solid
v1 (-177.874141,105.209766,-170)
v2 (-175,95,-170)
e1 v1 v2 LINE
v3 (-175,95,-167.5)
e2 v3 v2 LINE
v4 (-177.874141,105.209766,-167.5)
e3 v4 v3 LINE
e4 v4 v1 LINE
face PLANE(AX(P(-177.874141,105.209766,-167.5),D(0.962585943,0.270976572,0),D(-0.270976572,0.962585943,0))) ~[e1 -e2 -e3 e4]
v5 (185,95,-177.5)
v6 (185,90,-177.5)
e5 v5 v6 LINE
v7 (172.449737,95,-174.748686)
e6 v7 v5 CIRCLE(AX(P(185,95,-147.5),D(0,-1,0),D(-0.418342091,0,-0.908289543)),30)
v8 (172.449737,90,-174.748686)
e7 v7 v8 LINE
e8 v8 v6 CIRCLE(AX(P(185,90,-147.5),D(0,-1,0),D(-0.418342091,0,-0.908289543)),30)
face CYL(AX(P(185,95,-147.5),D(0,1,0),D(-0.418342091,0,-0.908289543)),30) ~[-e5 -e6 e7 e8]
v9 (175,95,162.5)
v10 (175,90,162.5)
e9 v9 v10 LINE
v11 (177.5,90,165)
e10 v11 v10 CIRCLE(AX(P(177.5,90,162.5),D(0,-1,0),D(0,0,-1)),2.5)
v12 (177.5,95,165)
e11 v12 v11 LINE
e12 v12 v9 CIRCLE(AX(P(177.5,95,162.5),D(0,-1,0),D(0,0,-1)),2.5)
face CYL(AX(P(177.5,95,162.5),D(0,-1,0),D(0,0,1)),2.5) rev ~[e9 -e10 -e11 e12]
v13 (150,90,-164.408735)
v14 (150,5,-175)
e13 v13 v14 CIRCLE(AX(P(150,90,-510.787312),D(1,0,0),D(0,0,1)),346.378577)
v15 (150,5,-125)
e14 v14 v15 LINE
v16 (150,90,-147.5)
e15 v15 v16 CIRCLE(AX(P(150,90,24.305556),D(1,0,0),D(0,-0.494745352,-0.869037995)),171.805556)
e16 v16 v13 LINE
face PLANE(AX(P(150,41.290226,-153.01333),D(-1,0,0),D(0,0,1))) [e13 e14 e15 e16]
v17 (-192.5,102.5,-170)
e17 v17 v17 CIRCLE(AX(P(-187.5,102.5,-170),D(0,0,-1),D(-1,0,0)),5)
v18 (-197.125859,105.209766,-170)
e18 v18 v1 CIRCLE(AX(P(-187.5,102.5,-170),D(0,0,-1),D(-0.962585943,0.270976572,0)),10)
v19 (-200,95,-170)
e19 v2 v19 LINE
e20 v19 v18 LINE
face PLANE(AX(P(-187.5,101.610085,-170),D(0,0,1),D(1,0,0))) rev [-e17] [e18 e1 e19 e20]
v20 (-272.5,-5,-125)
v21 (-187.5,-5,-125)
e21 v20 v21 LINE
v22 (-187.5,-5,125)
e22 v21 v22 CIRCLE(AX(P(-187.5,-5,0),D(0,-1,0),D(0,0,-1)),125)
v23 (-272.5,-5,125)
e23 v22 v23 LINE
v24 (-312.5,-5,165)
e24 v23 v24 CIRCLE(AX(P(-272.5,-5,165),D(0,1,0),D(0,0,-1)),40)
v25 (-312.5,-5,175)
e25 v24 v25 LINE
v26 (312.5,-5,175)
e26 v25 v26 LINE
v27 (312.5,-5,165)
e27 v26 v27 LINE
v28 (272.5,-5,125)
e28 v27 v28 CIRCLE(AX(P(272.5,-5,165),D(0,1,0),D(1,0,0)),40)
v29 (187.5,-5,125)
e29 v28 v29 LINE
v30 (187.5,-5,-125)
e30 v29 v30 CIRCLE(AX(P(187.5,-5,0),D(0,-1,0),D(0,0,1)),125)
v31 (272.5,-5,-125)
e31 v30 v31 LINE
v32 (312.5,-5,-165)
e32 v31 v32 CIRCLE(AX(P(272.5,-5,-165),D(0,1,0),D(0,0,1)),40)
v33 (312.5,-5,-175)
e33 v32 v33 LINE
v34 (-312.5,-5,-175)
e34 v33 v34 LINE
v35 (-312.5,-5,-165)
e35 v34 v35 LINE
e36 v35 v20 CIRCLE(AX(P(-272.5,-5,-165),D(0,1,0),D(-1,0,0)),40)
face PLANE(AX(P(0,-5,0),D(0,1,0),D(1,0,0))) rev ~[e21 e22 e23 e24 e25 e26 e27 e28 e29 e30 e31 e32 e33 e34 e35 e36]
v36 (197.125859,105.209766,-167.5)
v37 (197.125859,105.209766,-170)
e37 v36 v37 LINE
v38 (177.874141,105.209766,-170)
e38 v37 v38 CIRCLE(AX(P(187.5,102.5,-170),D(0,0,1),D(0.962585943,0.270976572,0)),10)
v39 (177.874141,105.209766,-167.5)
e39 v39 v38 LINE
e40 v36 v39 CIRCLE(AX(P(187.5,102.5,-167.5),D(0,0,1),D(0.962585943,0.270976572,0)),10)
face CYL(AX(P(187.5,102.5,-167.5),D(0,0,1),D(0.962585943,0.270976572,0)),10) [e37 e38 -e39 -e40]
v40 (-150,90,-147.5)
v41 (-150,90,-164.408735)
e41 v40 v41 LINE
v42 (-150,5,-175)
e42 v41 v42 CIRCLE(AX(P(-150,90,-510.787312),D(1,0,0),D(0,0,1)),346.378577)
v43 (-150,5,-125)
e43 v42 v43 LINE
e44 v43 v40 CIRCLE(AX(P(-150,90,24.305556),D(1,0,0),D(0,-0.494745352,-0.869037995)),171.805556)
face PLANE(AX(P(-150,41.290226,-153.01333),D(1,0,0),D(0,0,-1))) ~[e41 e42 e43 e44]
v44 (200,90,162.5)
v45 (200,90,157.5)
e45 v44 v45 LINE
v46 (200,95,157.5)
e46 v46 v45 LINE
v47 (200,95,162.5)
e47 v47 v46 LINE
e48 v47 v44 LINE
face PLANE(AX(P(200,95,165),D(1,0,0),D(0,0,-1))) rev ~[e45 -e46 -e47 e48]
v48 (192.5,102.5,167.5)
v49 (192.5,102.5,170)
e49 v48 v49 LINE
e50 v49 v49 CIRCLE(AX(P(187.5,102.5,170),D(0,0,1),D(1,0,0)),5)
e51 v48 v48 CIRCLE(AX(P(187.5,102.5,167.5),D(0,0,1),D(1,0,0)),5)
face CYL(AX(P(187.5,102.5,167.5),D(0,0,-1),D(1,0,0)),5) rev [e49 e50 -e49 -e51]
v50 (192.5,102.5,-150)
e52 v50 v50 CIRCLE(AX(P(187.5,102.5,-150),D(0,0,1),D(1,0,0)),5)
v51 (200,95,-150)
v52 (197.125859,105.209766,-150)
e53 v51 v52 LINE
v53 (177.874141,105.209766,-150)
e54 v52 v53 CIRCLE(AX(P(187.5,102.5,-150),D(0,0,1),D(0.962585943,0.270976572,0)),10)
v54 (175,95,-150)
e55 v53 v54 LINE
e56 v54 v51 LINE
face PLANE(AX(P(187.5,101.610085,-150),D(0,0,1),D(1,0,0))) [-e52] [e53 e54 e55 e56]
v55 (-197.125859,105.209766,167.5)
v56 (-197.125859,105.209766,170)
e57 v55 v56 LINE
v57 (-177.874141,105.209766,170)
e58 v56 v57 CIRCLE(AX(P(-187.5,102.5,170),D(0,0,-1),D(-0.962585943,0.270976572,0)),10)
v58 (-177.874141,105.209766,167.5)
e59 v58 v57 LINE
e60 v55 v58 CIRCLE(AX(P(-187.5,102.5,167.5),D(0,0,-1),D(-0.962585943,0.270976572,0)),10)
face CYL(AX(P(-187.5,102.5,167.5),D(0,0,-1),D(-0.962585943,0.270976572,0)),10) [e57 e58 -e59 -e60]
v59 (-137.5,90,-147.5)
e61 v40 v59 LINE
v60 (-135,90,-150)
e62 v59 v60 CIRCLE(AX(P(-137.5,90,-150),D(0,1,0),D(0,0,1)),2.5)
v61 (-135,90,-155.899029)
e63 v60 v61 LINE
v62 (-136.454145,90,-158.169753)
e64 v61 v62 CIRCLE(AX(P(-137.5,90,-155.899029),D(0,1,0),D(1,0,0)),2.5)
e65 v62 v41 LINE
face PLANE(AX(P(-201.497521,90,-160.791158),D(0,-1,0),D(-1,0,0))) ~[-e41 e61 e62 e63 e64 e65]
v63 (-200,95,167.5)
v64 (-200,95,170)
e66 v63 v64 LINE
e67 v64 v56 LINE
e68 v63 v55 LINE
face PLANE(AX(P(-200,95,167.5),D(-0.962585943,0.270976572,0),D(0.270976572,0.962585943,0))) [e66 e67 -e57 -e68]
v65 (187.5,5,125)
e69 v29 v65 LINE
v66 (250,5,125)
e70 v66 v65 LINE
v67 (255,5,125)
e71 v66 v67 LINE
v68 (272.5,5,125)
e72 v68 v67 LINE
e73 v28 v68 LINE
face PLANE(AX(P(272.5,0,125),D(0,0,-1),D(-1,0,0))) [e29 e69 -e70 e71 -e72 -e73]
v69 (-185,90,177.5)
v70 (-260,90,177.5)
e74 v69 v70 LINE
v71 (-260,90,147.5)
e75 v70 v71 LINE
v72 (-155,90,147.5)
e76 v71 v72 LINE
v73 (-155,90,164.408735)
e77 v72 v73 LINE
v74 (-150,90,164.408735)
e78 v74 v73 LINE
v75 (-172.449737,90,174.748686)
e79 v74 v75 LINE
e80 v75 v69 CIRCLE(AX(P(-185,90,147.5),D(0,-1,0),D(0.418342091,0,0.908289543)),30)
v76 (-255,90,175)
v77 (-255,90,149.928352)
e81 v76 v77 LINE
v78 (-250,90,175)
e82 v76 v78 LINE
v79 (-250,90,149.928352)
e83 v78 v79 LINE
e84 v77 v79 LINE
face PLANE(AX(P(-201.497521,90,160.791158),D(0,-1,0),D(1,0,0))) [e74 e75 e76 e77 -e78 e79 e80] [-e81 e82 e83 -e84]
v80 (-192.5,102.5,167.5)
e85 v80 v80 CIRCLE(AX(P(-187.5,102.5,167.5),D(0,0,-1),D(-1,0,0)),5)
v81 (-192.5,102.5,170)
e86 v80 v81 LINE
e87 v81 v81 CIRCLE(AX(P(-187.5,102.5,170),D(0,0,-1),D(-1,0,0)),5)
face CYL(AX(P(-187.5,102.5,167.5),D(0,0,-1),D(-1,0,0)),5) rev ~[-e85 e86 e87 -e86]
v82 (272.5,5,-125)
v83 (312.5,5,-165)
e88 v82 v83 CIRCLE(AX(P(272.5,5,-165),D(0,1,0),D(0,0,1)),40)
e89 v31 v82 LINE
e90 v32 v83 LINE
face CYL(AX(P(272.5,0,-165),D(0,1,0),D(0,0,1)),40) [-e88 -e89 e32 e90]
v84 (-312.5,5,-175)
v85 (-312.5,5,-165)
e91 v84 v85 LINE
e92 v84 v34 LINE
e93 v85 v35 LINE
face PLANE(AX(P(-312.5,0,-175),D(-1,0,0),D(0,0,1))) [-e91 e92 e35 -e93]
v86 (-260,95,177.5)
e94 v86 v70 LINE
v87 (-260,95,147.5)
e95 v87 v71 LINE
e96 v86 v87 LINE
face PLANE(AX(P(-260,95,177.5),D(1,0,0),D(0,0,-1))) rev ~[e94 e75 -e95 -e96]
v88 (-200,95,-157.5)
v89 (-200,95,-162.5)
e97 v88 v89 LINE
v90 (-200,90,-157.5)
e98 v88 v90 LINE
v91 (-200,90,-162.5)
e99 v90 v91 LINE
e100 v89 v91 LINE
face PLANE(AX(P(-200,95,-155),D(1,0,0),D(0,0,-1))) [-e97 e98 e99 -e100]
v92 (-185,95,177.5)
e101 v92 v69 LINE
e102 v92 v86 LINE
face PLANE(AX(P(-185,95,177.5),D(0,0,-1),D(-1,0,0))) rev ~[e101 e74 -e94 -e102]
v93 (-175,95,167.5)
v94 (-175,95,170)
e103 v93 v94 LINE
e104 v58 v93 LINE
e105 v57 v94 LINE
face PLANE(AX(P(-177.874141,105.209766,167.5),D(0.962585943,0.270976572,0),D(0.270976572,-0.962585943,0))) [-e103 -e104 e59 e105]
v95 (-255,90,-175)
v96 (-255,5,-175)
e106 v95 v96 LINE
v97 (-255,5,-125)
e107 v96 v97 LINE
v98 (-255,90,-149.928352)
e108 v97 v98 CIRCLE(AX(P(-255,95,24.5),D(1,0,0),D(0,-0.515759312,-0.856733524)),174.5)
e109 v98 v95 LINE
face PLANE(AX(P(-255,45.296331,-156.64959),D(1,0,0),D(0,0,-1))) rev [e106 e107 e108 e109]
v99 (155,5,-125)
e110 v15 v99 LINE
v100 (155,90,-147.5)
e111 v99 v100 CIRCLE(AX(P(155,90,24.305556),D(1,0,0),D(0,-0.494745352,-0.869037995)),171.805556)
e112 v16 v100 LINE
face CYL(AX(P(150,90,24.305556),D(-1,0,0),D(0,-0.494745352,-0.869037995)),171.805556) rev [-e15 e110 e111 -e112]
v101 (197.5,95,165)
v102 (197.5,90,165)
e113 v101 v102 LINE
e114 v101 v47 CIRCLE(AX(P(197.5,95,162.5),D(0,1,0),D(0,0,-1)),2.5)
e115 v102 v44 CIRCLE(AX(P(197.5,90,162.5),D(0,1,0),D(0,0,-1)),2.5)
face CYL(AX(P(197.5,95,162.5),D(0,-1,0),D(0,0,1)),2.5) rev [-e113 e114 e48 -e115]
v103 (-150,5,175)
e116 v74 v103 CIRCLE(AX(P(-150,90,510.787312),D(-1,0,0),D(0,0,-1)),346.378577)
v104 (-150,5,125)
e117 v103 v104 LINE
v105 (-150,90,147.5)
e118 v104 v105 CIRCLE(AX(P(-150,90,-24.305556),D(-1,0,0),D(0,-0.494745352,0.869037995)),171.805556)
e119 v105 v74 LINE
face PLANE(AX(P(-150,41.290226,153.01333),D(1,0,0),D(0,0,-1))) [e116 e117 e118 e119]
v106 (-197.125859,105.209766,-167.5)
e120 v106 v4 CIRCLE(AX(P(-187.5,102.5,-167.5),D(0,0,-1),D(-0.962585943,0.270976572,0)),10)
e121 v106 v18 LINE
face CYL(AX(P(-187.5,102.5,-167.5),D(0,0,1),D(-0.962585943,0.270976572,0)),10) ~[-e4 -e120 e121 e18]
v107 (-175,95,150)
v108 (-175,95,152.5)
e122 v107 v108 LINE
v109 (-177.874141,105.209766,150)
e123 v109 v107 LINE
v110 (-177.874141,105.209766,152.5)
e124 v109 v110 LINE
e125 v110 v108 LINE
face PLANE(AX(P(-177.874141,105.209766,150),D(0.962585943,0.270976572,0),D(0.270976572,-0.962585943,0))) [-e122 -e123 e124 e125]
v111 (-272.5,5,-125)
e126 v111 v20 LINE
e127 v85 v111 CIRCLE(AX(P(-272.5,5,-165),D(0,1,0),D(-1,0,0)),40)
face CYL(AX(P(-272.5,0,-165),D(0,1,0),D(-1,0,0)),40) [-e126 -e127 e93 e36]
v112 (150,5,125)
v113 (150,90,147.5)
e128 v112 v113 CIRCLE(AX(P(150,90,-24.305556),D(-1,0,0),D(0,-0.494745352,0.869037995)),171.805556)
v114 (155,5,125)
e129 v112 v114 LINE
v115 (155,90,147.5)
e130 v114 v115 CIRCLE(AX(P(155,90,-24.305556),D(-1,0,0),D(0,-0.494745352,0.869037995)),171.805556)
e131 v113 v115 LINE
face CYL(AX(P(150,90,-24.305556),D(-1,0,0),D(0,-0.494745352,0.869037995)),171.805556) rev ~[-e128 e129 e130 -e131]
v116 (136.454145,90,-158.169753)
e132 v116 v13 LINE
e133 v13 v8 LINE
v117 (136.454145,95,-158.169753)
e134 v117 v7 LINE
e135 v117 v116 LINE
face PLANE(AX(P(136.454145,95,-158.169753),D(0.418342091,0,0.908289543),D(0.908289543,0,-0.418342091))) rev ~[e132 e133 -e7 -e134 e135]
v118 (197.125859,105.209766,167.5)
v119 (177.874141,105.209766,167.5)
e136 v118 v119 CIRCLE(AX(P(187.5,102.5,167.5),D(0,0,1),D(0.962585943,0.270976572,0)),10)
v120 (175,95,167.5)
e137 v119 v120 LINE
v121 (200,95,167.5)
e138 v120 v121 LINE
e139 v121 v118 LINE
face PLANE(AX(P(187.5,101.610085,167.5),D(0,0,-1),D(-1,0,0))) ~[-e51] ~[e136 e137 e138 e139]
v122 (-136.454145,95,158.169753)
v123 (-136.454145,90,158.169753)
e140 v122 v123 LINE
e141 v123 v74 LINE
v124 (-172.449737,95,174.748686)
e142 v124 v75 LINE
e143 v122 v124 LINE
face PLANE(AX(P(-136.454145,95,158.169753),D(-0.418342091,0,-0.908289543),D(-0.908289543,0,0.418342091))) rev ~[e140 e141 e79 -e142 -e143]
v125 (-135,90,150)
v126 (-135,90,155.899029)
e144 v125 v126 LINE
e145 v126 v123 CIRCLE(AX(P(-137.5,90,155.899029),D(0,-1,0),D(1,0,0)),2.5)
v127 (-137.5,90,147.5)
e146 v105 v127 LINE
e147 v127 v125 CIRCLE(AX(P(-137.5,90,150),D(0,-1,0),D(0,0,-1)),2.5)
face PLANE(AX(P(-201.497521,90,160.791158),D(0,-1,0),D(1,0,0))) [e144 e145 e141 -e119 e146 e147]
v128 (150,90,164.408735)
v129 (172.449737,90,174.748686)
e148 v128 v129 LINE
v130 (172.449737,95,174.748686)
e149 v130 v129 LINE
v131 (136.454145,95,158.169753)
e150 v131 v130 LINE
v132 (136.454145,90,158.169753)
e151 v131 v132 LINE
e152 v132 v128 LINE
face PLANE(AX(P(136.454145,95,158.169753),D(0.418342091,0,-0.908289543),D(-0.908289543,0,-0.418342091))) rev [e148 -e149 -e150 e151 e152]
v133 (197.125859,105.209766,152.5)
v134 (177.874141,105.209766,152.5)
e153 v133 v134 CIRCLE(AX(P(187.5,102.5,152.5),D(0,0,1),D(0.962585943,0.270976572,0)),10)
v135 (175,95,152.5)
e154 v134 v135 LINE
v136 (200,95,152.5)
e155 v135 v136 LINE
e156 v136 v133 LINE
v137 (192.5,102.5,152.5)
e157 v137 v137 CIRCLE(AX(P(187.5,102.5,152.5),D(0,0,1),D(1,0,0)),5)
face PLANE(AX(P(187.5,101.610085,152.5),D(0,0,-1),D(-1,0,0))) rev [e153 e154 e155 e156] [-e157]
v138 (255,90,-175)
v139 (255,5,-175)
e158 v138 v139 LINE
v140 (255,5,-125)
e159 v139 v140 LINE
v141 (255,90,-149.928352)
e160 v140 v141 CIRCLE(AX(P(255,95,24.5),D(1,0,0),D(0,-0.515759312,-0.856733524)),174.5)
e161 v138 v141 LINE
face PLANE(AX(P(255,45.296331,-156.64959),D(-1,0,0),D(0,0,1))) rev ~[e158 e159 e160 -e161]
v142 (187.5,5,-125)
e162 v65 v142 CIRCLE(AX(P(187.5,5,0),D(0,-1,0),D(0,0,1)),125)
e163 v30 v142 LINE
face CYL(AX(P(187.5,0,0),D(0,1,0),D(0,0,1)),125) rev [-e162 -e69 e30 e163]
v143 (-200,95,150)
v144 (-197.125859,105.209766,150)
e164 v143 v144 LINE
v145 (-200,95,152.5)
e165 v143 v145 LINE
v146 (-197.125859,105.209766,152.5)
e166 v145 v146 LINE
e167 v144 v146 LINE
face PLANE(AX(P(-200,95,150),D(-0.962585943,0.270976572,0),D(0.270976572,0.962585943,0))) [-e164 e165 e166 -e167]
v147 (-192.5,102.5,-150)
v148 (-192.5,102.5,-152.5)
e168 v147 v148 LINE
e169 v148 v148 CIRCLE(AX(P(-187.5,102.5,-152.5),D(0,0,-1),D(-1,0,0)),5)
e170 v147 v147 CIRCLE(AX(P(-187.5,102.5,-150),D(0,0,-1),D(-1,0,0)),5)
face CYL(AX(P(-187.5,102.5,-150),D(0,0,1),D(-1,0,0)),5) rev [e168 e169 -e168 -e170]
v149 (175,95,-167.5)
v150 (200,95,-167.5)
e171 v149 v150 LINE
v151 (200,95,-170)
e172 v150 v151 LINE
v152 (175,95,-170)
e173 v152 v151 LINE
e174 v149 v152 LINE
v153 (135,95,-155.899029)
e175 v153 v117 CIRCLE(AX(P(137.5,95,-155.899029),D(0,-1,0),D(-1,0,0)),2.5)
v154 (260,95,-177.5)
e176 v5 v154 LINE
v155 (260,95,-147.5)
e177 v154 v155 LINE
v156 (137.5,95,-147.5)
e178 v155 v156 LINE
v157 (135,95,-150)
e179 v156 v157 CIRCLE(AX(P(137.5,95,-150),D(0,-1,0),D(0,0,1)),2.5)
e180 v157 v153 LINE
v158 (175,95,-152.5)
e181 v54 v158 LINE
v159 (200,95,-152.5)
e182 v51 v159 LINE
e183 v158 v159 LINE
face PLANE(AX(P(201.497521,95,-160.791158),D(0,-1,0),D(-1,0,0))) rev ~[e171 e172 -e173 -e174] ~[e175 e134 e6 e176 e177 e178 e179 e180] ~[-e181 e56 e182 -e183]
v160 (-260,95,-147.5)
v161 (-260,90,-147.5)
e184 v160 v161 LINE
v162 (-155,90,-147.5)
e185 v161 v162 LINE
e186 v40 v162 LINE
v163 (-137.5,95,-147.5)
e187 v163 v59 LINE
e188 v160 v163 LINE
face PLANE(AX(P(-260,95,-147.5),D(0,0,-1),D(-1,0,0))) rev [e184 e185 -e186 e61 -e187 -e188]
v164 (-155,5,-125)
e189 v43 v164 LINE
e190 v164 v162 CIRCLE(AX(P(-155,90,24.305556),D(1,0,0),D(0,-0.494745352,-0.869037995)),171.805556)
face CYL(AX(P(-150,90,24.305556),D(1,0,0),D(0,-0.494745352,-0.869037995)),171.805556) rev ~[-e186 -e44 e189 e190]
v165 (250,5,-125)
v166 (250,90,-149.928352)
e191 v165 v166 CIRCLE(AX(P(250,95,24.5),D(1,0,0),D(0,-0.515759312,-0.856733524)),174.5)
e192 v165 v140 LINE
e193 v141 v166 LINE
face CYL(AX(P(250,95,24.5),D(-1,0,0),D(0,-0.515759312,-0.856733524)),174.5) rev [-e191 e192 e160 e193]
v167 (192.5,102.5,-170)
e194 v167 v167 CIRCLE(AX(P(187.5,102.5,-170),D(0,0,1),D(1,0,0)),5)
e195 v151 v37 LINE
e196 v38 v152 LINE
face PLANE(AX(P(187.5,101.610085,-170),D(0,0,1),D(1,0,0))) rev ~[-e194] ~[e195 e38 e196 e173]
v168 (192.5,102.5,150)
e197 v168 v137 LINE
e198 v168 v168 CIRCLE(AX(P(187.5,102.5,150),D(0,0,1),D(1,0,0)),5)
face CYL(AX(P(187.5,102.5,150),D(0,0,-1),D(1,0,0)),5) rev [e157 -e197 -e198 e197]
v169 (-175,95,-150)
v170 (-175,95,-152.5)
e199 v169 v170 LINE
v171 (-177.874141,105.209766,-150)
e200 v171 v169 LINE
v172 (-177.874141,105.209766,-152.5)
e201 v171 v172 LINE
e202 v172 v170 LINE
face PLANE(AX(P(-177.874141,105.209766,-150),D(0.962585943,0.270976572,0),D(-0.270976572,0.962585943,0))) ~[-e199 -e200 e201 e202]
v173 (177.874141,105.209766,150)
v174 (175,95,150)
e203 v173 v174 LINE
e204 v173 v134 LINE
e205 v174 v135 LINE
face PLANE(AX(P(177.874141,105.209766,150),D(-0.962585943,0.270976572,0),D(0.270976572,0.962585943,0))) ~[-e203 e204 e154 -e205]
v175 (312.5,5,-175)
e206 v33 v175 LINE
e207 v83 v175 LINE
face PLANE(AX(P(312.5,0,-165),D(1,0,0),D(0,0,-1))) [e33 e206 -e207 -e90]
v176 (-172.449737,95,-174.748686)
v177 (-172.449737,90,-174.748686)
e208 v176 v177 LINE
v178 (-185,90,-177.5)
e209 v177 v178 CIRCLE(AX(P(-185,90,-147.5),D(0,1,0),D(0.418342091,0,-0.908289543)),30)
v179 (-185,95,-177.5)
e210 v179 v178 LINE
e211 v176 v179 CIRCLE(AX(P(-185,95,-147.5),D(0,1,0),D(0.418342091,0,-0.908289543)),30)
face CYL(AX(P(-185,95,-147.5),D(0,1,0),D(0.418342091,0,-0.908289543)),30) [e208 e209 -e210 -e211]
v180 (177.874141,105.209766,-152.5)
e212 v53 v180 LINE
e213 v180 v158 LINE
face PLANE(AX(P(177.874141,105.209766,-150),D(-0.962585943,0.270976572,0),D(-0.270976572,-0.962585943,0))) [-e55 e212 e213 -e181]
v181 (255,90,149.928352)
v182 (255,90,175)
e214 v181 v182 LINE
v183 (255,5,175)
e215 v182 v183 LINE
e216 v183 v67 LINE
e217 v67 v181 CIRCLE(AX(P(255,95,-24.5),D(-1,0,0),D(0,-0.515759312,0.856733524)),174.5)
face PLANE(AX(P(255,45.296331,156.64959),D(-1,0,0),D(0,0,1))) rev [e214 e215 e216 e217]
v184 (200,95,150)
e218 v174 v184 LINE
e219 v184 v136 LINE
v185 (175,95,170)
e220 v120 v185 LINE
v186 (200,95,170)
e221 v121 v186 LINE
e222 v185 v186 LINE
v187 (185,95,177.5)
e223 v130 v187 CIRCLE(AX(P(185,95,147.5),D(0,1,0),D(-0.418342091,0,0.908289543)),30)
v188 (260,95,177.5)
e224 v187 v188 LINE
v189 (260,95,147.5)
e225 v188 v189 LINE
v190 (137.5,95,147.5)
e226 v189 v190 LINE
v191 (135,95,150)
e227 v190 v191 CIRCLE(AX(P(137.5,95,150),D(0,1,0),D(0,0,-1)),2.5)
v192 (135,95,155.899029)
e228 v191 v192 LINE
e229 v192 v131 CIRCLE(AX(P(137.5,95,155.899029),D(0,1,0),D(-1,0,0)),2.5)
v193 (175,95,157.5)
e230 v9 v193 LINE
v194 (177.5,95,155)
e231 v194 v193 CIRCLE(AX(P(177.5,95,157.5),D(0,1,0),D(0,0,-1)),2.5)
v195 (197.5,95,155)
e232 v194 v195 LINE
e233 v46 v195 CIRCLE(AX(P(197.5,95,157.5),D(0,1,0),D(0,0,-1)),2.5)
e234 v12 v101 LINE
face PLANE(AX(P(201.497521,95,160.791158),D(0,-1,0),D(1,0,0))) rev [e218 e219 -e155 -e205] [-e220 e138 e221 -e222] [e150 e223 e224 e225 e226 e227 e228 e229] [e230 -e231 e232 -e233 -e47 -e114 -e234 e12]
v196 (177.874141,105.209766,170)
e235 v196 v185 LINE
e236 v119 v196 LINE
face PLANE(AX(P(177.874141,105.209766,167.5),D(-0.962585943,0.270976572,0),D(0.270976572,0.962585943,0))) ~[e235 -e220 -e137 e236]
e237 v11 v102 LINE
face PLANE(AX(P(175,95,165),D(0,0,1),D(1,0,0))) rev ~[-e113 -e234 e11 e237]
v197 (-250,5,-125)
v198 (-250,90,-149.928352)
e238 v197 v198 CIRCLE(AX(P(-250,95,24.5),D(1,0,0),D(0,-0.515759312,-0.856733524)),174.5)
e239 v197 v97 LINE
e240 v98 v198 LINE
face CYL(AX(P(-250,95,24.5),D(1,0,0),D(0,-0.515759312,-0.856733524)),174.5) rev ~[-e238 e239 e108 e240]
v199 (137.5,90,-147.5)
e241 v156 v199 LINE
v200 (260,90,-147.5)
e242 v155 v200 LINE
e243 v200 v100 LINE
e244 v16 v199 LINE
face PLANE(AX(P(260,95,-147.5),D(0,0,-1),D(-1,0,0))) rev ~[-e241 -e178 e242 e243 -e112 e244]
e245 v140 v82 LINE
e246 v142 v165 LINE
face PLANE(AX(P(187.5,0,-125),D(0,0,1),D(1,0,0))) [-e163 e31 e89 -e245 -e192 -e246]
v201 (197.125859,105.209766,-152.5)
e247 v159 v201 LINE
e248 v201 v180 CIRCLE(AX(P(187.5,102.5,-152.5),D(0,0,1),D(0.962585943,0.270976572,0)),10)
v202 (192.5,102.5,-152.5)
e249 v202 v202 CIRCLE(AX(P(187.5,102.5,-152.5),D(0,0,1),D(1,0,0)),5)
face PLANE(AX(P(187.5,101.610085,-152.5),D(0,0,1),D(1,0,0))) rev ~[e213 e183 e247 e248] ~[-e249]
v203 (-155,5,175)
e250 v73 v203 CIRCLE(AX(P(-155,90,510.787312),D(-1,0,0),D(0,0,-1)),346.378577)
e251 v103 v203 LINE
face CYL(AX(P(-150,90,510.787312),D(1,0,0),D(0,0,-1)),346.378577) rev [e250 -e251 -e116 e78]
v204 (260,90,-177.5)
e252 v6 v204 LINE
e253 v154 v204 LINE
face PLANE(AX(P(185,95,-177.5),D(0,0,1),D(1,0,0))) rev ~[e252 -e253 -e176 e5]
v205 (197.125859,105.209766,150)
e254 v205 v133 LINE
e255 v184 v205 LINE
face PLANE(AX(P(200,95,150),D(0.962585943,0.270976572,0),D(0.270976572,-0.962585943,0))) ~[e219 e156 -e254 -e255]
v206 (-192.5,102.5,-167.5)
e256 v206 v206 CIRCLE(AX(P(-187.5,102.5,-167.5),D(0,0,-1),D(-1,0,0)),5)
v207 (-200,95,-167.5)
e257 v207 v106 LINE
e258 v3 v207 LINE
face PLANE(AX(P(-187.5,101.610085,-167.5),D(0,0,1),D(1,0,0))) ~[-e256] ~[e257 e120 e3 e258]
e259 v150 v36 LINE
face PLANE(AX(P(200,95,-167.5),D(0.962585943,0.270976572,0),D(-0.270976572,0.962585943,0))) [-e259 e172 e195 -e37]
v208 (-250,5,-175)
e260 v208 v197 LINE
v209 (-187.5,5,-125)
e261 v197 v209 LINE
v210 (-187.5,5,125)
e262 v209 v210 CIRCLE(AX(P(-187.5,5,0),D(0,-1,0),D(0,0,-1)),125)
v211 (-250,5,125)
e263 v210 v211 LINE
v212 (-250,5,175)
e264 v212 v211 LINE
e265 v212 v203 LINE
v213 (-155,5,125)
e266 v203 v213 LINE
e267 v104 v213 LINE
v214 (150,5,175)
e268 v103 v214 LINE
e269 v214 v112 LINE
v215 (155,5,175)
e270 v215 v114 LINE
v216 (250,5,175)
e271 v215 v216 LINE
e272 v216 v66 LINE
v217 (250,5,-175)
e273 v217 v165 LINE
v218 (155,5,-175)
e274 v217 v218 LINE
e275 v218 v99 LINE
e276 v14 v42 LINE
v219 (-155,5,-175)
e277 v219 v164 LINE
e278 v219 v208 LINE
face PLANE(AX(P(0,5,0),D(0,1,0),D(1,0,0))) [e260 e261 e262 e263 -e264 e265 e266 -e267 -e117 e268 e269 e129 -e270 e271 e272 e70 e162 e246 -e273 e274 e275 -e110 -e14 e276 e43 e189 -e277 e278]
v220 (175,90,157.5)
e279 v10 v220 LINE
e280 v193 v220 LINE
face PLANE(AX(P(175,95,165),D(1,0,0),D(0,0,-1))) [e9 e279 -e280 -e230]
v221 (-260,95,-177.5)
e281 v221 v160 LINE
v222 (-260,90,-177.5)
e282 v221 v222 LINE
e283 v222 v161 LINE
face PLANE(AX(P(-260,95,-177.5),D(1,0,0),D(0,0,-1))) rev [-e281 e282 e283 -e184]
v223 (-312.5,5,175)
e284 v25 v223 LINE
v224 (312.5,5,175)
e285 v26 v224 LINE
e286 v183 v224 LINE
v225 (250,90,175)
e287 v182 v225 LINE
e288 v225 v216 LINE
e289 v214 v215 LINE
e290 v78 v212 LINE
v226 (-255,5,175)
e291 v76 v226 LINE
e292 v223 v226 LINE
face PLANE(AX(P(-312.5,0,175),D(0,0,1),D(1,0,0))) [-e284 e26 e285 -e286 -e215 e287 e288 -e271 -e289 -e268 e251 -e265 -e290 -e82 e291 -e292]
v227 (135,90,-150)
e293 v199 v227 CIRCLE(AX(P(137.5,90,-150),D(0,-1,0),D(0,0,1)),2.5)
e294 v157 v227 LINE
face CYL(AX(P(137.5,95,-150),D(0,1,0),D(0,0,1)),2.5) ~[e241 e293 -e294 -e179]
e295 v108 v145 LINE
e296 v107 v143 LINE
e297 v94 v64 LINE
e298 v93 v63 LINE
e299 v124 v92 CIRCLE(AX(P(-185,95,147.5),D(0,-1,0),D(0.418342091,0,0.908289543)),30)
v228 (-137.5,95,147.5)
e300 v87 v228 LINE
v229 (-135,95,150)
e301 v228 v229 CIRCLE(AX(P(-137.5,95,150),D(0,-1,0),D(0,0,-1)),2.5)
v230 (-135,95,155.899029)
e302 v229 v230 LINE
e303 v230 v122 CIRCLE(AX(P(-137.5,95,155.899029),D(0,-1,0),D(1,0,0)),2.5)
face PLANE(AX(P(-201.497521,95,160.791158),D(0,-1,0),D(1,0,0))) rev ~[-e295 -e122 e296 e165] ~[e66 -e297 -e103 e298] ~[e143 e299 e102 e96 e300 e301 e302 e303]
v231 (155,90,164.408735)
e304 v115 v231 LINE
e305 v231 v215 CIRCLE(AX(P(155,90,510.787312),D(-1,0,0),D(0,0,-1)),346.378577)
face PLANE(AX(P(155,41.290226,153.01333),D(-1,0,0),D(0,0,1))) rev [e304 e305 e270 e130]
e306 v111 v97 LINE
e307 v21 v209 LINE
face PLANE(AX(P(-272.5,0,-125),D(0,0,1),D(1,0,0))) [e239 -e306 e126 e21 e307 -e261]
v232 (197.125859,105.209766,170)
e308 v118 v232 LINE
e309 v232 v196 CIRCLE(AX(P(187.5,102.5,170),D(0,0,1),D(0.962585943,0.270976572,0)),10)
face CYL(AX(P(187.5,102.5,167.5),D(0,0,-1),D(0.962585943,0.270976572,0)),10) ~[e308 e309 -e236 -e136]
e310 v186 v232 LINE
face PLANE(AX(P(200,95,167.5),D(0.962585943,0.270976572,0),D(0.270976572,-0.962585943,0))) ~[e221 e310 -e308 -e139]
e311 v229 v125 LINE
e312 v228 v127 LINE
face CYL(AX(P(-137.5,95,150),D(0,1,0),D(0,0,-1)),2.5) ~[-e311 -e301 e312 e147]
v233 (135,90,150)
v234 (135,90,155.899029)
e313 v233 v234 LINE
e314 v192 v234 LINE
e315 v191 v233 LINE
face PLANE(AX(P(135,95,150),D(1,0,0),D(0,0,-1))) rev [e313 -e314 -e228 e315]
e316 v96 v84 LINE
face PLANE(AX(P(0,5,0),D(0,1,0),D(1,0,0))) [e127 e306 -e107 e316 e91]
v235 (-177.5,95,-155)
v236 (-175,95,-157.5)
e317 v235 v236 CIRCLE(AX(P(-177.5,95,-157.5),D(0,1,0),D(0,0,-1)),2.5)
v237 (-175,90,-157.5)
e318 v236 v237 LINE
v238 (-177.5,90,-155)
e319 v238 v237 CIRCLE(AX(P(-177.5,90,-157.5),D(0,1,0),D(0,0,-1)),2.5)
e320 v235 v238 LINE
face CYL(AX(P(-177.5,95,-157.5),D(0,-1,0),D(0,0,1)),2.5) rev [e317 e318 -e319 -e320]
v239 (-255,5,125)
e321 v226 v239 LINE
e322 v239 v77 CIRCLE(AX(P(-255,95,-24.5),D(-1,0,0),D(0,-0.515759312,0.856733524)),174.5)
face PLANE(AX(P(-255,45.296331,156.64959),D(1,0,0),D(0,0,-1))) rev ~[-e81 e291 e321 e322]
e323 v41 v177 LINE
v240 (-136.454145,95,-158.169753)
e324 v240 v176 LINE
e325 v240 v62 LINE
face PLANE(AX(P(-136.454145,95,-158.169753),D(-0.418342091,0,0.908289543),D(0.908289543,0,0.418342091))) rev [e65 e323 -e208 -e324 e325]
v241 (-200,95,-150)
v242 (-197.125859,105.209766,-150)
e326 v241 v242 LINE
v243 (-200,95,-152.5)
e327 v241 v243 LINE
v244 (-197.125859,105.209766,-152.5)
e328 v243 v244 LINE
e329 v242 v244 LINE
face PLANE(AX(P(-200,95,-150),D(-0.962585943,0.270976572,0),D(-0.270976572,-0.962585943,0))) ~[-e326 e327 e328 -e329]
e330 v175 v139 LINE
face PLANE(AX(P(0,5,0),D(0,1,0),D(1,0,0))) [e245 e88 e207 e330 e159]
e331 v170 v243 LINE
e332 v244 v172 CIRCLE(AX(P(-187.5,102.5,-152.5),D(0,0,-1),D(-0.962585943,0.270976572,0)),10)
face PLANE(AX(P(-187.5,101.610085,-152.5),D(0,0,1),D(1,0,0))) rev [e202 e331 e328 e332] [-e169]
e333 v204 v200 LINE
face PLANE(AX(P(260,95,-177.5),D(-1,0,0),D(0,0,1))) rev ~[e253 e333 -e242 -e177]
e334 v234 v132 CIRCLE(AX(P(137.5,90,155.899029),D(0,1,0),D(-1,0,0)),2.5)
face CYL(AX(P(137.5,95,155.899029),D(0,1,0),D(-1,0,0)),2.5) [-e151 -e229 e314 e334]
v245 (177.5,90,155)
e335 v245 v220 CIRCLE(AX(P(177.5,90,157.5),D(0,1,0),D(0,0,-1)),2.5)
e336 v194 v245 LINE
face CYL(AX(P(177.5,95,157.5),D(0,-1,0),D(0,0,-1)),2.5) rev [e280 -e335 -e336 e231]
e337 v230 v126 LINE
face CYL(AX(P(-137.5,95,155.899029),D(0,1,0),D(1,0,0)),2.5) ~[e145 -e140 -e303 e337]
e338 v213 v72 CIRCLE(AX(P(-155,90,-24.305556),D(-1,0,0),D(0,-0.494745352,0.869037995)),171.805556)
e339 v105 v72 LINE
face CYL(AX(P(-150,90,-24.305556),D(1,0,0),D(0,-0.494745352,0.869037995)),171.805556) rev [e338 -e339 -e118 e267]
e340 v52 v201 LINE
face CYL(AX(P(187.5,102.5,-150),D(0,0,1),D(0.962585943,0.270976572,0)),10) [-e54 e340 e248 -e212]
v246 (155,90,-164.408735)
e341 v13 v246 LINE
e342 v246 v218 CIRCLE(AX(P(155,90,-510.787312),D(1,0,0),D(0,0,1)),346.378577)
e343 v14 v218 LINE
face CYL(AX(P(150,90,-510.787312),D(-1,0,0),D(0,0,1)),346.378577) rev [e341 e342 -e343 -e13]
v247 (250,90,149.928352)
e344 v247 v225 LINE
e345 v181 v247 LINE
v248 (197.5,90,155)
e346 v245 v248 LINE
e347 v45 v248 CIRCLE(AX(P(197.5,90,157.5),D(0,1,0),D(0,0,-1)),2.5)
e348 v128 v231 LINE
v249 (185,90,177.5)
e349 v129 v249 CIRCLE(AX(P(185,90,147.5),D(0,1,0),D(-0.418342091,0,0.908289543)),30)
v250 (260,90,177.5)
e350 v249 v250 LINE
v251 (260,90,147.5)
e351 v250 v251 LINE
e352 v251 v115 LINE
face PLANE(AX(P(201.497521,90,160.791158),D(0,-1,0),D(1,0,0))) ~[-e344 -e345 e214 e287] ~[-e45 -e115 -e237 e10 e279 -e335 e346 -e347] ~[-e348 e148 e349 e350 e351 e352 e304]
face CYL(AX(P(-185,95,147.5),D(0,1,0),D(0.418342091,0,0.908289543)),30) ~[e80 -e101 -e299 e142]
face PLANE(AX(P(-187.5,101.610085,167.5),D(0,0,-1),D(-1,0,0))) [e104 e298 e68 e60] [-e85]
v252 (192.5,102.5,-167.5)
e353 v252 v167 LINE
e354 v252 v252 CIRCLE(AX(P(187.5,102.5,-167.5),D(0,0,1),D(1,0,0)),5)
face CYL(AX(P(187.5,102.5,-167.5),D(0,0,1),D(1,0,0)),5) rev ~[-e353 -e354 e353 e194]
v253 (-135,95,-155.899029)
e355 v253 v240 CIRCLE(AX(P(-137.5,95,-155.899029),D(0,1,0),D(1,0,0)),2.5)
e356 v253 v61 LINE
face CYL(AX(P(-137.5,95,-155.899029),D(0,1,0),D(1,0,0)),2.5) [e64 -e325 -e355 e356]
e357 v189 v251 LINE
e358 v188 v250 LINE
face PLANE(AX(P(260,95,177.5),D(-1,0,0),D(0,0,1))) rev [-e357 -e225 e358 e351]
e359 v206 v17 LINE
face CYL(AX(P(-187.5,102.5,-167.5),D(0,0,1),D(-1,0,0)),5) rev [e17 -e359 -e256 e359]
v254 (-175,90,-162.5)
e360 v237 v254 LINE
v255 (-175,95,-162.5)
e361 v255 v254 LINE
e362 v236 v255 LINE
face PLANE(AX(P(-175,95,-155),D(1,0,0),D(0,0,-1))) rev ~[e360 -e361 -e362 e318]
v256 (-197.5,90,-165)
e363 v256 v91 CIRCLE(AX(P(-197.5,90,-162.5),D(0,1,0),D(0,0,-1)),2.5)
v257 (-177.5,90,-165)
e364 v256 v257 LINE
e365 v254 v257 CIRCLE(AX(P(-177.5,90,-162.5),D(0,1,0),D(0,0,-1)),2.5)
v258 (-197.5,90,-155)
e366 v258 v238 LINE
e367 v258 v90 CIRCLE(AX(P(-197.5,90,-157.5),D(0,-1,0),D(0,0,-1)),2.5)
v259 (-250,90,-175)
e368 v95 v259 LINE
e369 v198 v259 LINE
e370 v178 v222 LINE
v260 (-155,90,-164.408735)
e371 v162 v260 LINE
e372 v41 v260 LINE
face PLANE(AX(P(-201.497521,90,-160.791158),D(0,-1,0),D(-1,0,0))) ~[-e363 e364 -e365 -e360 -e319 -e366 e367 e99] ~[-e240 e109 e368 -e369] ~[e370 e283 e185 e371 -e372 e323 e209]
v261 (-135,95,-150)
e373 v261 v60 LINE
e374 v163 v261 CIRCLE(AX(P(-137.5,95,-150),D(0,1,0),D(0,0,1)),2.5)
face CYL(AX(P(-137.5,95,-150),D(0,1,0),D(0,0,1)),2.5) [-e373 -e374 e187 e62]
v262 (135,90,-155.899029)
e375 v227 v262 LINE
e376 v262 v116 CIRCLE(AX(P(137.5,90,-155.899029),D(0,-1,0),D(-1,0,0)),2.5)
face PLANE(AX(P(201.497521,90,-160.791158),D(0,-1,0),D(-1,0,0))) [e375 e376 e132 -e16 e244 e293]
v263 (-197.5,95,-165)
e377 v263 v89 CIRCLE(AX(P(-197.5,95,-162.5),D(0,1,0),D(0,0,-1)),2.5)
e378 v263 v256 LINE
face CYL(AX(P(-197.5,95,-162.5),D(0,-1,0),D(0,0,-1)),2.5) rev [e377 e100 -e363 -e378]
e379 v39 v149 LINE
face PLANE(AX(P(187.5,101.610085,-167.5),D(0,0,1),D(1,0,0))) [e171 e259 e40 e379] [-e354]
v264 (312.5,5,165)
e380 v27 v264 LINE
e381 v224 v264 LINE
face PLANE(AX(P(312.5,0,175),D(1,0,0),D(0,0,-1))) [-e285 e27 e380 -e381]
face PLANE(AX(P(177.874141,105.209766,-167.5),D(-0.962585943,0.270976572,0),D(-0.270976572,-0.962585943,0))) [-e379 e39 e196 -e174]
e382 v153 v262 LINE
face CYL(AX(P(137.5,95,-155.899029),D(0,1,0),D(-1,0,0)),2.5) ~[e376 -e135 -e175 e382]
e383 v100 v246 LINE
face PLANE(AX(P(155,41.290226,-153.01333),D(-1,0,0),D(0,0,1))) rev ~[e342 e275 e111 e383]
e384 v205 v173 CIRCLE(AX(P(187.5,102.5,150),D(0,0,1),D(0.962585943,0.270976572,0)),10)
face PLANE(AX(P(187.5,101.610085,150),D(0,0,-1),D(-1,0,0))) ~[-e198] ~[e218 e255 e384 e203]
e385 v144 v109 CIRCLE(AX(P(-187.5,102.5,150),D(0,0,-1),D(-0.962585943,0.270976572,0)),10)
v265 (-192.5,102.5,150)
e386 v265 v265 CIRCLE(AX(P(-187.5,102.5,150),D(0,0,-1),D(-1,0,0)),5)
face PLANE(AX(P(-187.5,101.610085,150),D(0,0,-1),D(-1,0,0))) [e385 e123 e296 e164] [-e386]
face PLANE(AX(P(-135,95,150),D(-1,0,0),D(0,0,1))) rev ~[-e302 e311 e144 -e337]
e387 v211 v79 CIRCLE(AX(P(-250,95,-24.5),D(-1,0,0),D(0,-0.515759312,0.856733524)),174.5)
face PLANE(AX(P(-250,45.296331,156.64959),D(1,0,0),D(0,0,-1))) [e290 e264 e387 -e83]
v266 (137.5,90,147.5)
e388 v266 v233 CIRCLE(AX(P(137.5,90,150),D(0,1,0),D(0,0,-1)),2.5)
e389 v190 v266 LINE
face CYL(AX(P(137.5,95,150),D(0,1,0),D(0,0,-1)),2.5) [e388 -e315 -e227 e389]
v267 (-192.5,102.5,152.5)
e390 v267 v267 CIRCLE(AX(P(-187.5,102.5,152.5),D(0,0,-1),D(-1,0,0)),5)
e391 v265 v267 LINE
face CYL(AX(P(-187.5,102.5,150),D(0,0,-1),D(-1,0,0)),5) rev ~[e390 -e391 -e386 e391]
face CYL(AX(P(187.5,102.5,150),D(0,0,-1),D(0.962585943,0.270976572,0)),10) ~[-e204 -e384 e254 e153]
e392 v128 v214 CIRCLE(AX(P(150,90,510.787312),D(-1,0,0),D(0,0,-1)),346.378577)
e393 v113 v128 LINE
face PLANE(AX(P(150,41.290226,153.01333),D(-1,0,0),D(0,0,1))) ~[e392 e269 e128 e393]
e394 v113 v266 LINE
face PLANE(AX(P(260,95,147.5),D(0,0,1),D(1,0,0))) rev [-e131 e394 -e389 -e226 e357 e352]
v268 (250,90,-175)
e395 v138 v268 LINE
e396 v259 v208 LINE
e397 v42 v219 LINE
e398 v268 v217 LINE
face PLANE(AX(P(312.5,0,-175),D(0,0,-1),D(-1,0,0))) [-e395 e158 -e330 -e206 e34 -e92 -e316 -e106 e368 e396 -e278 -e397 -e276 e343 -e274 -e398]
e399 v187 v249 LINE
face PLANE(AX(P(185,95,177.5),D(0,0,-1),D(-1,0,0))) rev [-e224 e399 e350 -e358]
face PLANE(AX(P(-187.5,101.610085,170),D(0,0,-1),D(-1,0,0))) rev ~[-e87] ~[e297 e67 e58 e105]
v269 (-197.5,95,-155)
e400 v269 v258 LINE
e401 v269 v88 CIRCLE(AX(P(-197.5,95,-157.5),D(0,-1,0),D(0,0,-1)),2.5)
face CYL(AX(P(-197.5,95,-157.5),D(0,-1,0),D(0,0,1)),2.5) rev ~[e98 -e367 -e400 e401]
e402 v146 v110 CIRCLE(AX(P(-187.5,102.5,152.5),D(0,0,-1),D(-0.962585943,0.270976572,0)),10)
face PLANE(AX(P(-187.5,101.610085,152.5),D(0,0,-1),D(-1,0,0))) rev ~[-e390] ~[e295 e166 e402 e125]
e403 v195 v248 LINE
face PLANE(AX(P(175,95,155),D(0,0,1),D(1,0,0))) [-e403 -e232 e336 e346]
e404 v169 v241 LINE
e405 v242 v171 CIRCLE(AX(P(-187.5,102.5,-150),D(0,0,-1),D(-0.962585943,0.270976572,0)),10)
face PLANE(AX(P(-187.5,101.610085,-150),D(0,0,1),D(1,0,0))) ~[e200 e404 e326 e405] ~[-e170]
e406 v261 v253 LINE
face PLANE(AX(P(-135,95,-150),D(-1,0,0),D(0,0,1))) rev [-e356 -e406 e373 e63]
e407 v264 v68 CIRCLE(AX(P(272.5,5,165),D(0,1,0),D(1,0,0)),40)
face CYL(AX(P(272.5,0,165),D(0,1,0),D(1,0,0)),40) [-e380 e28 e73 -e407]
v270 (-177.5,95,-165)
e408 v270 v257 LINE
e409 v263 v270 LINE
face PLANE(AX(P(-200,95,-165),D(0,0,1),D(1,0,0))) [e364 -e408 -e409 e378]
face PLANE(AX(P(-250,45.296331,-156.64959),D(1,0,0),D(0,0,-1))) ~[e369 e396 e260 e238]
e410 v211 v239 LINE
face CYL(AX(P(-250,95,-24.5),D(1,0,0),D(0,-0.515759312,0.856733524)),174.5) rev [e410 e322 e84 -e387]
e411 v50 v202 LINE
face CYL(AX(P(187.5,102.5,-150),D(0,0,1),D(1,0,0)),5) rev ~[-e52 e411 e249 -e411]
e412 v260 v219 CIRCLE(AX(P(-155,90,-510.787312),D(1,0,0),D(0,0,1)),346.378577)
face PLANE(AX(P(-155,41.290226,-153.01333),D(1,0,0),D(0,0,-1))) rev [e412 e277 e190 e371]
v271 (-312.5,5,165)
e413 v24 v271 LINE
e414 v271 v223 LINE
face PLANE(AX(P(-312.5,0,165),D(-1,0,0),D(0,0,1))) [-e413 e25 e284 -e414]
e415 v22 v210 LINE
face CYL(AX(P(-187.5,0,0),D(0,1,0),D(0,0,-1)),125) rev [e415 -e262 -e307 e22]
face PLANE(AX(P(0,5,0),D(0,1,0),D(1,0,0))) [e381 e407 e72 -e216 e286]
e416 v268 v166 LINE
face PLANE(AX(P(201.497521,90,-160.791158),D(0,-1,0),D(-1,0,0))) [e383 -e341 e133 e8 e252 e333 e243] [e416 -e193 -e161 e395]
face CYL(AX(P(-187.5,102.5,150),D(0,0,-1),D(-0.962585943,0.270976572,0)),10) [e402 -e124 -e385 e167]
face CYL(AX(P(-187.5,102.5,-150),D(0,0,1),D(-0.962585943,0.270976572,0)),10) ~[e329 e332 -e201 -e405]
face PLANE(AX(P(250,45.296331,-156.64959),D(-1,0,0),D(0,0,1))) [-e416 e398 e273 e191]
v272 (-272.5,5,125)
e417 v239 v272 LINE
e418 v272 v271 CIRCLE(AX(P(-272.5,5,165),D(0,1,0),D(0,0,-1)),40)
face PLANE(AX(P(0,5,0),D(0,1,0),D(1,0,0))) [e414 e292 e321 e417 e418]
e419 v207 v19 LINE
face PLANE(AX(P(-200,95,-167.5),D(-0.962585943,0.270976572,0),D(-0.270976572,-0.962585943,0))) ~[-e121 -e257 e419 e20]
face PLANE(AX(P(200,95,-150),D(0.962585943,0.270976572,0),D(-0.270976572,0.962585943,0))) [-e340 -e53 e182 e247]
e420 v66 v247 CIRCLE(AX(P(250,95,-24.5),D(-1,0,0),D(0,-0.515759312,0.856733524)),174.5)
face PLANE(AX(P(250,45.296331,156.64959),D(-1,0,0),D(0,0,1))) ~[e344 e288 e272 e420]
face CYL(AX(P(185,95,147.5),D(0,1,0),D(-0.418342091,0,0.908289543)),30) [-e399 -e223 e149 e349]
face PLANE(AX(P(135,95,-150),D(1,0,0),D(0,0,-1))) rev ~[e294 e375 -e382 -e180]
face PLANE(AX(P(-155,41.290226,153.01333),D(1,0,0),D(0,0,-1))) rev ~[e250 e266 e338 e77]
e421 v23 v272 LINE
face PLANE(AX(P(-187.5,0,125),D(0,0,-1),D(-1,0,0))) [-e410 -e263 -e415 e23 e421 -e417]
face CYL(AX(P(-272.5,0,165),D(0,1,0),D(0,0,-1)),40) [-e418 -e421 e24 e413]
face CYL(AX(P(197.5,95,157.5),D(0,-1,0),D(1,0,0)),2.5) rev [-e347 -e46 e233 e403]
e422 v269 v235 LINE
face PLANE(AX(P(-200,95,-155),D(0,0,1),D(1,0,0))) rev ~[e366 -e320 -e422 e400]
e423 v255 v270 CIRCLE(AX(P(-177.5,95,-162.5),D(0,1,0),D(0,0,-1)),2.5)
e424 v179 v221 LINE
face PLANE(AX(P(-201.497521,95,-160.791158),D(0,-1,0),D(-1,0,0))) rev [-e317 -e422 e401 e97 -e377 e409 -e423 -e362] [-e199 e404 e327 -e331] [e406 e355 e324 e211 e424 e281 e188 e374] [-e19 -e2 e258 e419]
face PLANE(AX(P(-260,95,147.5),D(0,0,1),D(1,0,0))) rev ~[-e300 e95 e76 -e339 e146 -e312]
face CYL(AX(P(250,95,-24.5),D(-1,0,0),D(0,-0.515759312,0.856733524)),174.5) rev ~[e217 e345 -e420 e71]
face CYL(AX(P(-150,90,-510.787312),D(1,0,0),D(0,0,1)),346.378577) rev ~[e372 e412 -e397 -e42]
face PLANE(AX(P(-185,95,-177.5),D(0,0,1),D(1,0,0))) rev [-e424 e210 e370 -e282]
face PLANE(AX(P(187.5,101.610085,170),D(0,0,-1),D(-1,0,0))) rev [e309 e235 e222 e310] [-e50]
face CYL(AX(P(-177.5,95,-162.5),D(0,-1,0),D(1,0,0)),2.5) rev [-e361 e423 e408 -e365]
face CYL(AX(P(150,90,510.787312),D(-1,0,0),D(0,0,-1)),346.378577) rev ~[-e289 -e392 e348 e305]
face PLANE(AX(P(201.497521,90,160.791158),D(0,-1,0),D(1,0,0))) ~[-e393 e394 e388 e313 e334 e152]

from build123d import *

# Parameters (mm, degrees)
BOSS_EXTRUDE1_DEPTH     = 5
BOSS_EXTRUDE2_START     = 250
BOSS_EXTRUDE2_DEPTH     = 5
BOSS_EXTRUDE3_DEPTH     = 5
BOSS_EXTRUDE4_DEPTH     = 5
BOSS_EXTRUDE5_START     = -2.5
SKETCH12_R              = 5
BOSS_EXTRUDE5_DEPTH     = 2.5
BOSS_EXTRUDE6_START     = -20
SKETCH12_2_R            = 5
BOSS_EXTRUDE6_DEPTH     = 2.5
MIRROR2_START           = 250
MIRROR2_COPY_1_DEPTH    = 5
MIRROR2_COPY_2_DEPTH    = 5
MIRROR2_COPY_3_DEPTH    = 5
MIRROR2_START_2         = -2.5
MIRROR2_COPY_4_SKETCH_R = 5
MIRROR2_COPY_4_DEPTH    = 2.5
MIRROR2_START_3         = -20
MIRROR2_COPY_5_SKETCH_R = 5
MIRROR2_COPY_5_DEPTH    = 2.5
SKETCH13_W              = 25
SKETCH13_H              = 10
CUT_EXTRUDE1_DEPTH      = 5
FILLET1_R               = 2.5
SKETCH15_W              = 25
SKETCH15_H              = 10
CUT_EXTRUDE2_DEPTH      = 5
FILLET2_R               = 2.5


with BuildPart() as part:
    # Sketch2 → Boss-Extrude1 (new body, symmetric)
    with BuildSketch(Plane(origin=(0, 0, 0), x_dir=(1, 0, 0), z_dir=(0, 1, 0))):
        with BuildLine():
            Line((-272.5, 125), (-187.5, 125))
            ThreePointArc((-187.5, 125), (-62.5, 0), (-187.5, -125))
            Line((-187.5, -125), (-272.5, -125))
            ThreePointArc((-272.5, -125), (-300.784271247, -136.715728753), (-312.5, -165))
            Line((-312.5, -165), (-312.5, -175))
            Line((-312.5, -175), (312.5, -175))
            Line((312.5, -175), (312.5, -165))
            ThreePointArc((312.5, -165), (300.784271247, -136.715728753), (272.5, -125))
            Line((272.5, -125), (187.5, -125))
            ThreePointArc((187.5, -125), (62.5, 0), (187.5, 125))
            Line((187.5, 125), (272.5, 125))
            ThreePointArc((272.5, 125), (300.784271247, 136.715728753), (312.5, 165))
            Line((312.5, 165), (312.5, 175))
            Line((312.5, 175), (-312.5, 175))
            Line((-312.5, 175), (-312.5, 165))
            ThreePointArc((-312.5, 165), (-300.784271247, 136.715728753), (-272.5, 125))
        make_face()
    extrude(amount=BOSS_EXTRUDE1_DEPTH, both=True)

    # Sketch5 → Boss-Extrude2 (add)
    with BuildSketch(Plane(origin=(0, 0, 0), x_dir=(0, 0, -1), z_dir=(1, 0, 0)).offset(BOSS_EXTRUDE2_START)):
        with BuildLine():
            Line((175, 5), (125, 5))
            ThreePointArc((125, 5), (143.63387523, 48.296145769), (150, 95))
            Line((150, 95), (175, 95))
            Line((175, 95), (175, 5))
        make_face()
    boss_extrude2 = extrude(amount=BOSS_EXTRUDE2_DEPTH)

    # Sketch7 → Boss-Extrude3 (add)
    with BuildSketch(Plane(origin=(0, 95, 0), x_dir=(1, 0, 0), z_dir=(0, 1, 0))):
        with BuildLine():
            Line((260, 147.5), (137.5, 147.5))
            ThreePointArc((137.5, 147.5), (135.732233047, 148.232233047), (135, 150))
            Line((135, 150), (135, 155.899029492))
            ThreePointArc((135, 155.899029492), (135.394692651, 157.247243483), (136.454144772, 158.16975335))
            Line((136.454144772, 158.16975335), (172.44973726, 174.748686302))
            ThreePointArc((172.44973726, 174.748686302), (178.575849825, 176.804100302), (185, 177.5))
            Line((185, 177.5), (260, 177.5))
            Line((260, 177.5), (260, 147.5))
        make_face()
    boss_extrude3 = extrude(amount=-BOSS_EXTRUDE3_DEPTH)

    # Sketch10 → Boss-Extrude4 (add)
    with BuildSketch(Plane.ZY.offset(-150)):
        with BuildLine():
            Line((-175, 5), (-125, 5))
            ThreePointArc((-125, 5), (-141.779773176, 46.036236512), (-147.5, 90))
            Line((-147.5, 90), (-164.408734572, 90))
            ThreePointArc((-164.408734572, 90), (-167.06674937, 47.171344571), (-175, 5))
        make_face()
    boss_extrude4 = extrude(amount=-BOSS_EXTRUDE4_DEPTH)

    # Sketch12 → Boss-Extrude5 (add)
    with BuildSketch(Plane.XY.offset(-147.5).offset(BOSS_EXTRUDE5_START)):
        with BuildLine():
            Line((175, 95), (200, 95))
            Line((200, 95), (197.12585943, 105.209765716))
            ThreePointArc((197.12585943, 105.209765716), (187.5, 112.5), (177.87414057, 105.209765716))
            Line((177.87414057, 105.209765716), (175, 95))
        make_face()
        with Locations((187.5, 102.5)):
            Circle(SKETCH12_R, mode=Mode.SUBTRACT)
    boss_extrude5 = extrude(amount=-BOSS_EXTRUDE5_DEPTH)

    # Sketch12<2> → Boss-Extrude6 (add)
    with BuildSketch(Plane.XY.offset(-147.5).offset(BOSS_EXTRUDE6_START)):
        with BuildLine():
            Line((175, 95), (200, 95))
            Line((200, 95), (197.12585943, 105.209765716))
            ThreePointArc((197.12585943, 105.209765716), (187.5, 112.5), (177.87414057, 105.209765716))
            Line((177.87414057, 105.209765716), (175, 95))
        make_face()
        with Locations((187.5, 102.5)):
            Circle(SKETCH12_2_R, mode=Mode.SUBTRACT)
    boss_extrude6 = extrude(amount=-BOSS_EXTRUDE6_DEPTH)

    # Mirror1: Boss-Extrude2, Boss-Extrude3, Boss-Extrude4, Boss-Extrude5, Boss-Extrude6 across plane
    add(boss_extrude2.mirror(Plane.XY))
    add(boss_extrude3.mirror(Plane.XY))
    add(boss_extrude4.mirror(Plane.XY))
    add(boss_extrude5.mirror(Plane.XY))
    add(boss_extrude6.mirror(Plane.XY))

    # Mirror2: Boss-Extrude2, Boss-Extrude3, Boss-Extrude4, Boss-Extrude5, Boss-Extrude6 across plane
    add(boss_extrude2.mirror(Plane(origin=(0, 0, 0), x_dir=(0, 0, 1), z_dir=(1, 0, 0))))
    add(boss_extrude3.mirror(Plane(origin=(0, 0, 0), x_dir=(0, 0, 1), z_dir=(1, 0, 0))))
    add(boss_extrude4.mirror(Plane(origin=(0, 0, 0), x_dir=(0, 0, 1), z_dir=(1, 0, 0))))
    add(boss_extrude5.mirror(Plane(origin=(0, 0, 0), x_dir=(0, 0, 1), z_dir=(1, 0, 0))))
    add(boss_extrude6.mirror(Plane(origin=(0, 0, 0), x_dir=(0, 0, 1), z_dir=(1, 0, 0))))

    # Mirror2 copy 1 sketch → Mirror2 copy 1 (add)
    with BuildSketch(Plane.ZY.offset(MIRROR2_START)):
        with BuildLine():
            Line((175, 5), (125, 5))
            ThreePointArc((125, 5), (143.63387523, 48.296145769), (150, 95))
            Line((150, 95), (175, 95))
            Line((175, 95), (175, 5))
        make_face()
    extrude(amount=MIRROR2_COPY_1_DEPTH)

    # Mirror2 copy 2 sketch → Mirror2 copy 2 (add)
    with BuildSketch(Plane(origin=(0, 95, 0), x_dir=(-1, 0, 0), z_dir=(0, 1, 0))):
        with BuildLine():
            Line((260, 147.5), (137.5, 147.5))
            ThreePointArc((137.5, 147.5), (135.732233047, 148.232233047), (135, 150))
            Line((135, 150), (135, 155.899029492))
            ThreePointArc((135, 155.899029492), (135.394692651, 157.247243483), (136.454144772, 158.16975335))
            Line((136.454144772, 158.16975335), (172.44973726, 174.748686302))
            ThreePointArc((172.44973726, 174.748686302), (178.575849825, 176.804100302), (185, 177.5))
            Line((185, 177.5), (260, 177.5))
            Line((260, 177.5), (260, 147.5))
        make_face()
    extrude(amount=-MIRROR2_COPY_2_DEPTH)

    # Mirror2 copy 3 sketch → Mirror2 copy 3 (add)
    with BuildSketch(Plane(origin=(-150, 0, 0), x_dir=(0, 0, -1), z_dir=(1, 0, 0))):
        with BuildLine():
            Line((-175, 5), (-125, 5))
            ThreePointArc((-125, 5), (-141.779773176, 46.036236512), (-147.5, 90))
            Line((-147.5, 90), (-164.408734572, 90))
            ThreePointArc((-164.408734572, 90), (-167.06674937, 47.171344571), (-175, 5))
        make_face()
    extrude(amount=-MIRROR2_COPY_3_DEPTH)

    # Mirror2 copy 4 sketch → Mirror2 copy 4 (add)
    with BuildSketch(Plane(origin=(0, 0, 147.5), x_dir=(-1, 0, 0), z_dir=(0, 0, -1)).offset(MIRROR2_START_2)):
        with BuildLine():
            Line((175, 95), (200, 95))
            Line((200, 95), (197.12585943, 105.209765716))
            ThreePointArc((197.12585943, 105.209765716), (187.5, 112.5), (177.87414057, 105.209765716))
            Line((177.87414057, 105.209765716), (175, 95))
        make_face()
        with Locations((187.5, 102.5)):
            Circle(MIRROR2_COPY_4_SKETCH_R, mode=Mode.SUBTRACT)
    extrude(amount=-MIRROR2_COPY_4_DEPTH)

    # Mirror2 copy 5 sketch → Mirror2 copy 5 (add)
    with BuildSketch(Plane(origin=(0, 0, 147.5), x_dir=(-1, 0, 0), z_dir=(0, 0, -1)).offset(MIRROR2_START_3)):
        with BuildLine():
            Line((175, 95), (200, 95))
            Line((200, 95), (197.12585943, 105.209765716))
            ThreePointArc((197.12585943, 105.209765716), (187.5, 112.5), (177.87414057, 105.209765716))
            Line((177.87414057, 105.209765716), (175, 95))
        make_face()
        with Locations((187.5, 102.5)):
            Circle(MIRROR2_COPY_5_SKETCH_R, mode=Mode.SUBTRACT)
    extrude(amount=-MIRROR2_COPY_5_DEPTH)

    # Sketch13 → Cut-Extrude1 (cut)
    with BuildSketch(Plane(origin=(0, 95, 0), x_dir=(1, 0, 0), z_dir=(0, 1, 0))):
        with Locations((187.5, -160)):
            Rectangle(SKETCH13_W, SKETCH13_H)
    extrude(amount=-CUT_EXTRUDE1_DEPTH, mode=Mode.SUBTRACT)

    # Fillet1
    fillet1_edges = [part.edges().sort_by_distance(p)[0] for p in [
        (200, 92.5, 155),
        (200, 92.5, 165),
        (175, 92.5, 165),
        (175, 92.5, 155),
    ]]
    fillet(fillet1_edges, radius=FILLET1_R)

    # Sketch15 → Cut-Extrude2 (cut)
    with BuildSketch(Plane(origin=(0, 95, 0), x_dir=(1, 0, 0), z_dir=(0, 1, 0))):
        with Locations((-187.5, 160)):
            Rectangle(SKETCH15_W, SKETCH15_H)
    extrude(amount=-CUT_EXTRUDE2_DEPTH, mode=Mode.SUBTRACT)

    # Fillet2
    fillet2_edges = [part.edges().sort_by_distance(p)[0] for p in [
        (-200, 92.5, -155),
        (-200, 92.5, -165),
        (-175, 92.5, -165),
        (-175, 92.5, -155),
    ]]
    fillet(fillet2_edges, radius=FILLET2_R)


solid = part.part
